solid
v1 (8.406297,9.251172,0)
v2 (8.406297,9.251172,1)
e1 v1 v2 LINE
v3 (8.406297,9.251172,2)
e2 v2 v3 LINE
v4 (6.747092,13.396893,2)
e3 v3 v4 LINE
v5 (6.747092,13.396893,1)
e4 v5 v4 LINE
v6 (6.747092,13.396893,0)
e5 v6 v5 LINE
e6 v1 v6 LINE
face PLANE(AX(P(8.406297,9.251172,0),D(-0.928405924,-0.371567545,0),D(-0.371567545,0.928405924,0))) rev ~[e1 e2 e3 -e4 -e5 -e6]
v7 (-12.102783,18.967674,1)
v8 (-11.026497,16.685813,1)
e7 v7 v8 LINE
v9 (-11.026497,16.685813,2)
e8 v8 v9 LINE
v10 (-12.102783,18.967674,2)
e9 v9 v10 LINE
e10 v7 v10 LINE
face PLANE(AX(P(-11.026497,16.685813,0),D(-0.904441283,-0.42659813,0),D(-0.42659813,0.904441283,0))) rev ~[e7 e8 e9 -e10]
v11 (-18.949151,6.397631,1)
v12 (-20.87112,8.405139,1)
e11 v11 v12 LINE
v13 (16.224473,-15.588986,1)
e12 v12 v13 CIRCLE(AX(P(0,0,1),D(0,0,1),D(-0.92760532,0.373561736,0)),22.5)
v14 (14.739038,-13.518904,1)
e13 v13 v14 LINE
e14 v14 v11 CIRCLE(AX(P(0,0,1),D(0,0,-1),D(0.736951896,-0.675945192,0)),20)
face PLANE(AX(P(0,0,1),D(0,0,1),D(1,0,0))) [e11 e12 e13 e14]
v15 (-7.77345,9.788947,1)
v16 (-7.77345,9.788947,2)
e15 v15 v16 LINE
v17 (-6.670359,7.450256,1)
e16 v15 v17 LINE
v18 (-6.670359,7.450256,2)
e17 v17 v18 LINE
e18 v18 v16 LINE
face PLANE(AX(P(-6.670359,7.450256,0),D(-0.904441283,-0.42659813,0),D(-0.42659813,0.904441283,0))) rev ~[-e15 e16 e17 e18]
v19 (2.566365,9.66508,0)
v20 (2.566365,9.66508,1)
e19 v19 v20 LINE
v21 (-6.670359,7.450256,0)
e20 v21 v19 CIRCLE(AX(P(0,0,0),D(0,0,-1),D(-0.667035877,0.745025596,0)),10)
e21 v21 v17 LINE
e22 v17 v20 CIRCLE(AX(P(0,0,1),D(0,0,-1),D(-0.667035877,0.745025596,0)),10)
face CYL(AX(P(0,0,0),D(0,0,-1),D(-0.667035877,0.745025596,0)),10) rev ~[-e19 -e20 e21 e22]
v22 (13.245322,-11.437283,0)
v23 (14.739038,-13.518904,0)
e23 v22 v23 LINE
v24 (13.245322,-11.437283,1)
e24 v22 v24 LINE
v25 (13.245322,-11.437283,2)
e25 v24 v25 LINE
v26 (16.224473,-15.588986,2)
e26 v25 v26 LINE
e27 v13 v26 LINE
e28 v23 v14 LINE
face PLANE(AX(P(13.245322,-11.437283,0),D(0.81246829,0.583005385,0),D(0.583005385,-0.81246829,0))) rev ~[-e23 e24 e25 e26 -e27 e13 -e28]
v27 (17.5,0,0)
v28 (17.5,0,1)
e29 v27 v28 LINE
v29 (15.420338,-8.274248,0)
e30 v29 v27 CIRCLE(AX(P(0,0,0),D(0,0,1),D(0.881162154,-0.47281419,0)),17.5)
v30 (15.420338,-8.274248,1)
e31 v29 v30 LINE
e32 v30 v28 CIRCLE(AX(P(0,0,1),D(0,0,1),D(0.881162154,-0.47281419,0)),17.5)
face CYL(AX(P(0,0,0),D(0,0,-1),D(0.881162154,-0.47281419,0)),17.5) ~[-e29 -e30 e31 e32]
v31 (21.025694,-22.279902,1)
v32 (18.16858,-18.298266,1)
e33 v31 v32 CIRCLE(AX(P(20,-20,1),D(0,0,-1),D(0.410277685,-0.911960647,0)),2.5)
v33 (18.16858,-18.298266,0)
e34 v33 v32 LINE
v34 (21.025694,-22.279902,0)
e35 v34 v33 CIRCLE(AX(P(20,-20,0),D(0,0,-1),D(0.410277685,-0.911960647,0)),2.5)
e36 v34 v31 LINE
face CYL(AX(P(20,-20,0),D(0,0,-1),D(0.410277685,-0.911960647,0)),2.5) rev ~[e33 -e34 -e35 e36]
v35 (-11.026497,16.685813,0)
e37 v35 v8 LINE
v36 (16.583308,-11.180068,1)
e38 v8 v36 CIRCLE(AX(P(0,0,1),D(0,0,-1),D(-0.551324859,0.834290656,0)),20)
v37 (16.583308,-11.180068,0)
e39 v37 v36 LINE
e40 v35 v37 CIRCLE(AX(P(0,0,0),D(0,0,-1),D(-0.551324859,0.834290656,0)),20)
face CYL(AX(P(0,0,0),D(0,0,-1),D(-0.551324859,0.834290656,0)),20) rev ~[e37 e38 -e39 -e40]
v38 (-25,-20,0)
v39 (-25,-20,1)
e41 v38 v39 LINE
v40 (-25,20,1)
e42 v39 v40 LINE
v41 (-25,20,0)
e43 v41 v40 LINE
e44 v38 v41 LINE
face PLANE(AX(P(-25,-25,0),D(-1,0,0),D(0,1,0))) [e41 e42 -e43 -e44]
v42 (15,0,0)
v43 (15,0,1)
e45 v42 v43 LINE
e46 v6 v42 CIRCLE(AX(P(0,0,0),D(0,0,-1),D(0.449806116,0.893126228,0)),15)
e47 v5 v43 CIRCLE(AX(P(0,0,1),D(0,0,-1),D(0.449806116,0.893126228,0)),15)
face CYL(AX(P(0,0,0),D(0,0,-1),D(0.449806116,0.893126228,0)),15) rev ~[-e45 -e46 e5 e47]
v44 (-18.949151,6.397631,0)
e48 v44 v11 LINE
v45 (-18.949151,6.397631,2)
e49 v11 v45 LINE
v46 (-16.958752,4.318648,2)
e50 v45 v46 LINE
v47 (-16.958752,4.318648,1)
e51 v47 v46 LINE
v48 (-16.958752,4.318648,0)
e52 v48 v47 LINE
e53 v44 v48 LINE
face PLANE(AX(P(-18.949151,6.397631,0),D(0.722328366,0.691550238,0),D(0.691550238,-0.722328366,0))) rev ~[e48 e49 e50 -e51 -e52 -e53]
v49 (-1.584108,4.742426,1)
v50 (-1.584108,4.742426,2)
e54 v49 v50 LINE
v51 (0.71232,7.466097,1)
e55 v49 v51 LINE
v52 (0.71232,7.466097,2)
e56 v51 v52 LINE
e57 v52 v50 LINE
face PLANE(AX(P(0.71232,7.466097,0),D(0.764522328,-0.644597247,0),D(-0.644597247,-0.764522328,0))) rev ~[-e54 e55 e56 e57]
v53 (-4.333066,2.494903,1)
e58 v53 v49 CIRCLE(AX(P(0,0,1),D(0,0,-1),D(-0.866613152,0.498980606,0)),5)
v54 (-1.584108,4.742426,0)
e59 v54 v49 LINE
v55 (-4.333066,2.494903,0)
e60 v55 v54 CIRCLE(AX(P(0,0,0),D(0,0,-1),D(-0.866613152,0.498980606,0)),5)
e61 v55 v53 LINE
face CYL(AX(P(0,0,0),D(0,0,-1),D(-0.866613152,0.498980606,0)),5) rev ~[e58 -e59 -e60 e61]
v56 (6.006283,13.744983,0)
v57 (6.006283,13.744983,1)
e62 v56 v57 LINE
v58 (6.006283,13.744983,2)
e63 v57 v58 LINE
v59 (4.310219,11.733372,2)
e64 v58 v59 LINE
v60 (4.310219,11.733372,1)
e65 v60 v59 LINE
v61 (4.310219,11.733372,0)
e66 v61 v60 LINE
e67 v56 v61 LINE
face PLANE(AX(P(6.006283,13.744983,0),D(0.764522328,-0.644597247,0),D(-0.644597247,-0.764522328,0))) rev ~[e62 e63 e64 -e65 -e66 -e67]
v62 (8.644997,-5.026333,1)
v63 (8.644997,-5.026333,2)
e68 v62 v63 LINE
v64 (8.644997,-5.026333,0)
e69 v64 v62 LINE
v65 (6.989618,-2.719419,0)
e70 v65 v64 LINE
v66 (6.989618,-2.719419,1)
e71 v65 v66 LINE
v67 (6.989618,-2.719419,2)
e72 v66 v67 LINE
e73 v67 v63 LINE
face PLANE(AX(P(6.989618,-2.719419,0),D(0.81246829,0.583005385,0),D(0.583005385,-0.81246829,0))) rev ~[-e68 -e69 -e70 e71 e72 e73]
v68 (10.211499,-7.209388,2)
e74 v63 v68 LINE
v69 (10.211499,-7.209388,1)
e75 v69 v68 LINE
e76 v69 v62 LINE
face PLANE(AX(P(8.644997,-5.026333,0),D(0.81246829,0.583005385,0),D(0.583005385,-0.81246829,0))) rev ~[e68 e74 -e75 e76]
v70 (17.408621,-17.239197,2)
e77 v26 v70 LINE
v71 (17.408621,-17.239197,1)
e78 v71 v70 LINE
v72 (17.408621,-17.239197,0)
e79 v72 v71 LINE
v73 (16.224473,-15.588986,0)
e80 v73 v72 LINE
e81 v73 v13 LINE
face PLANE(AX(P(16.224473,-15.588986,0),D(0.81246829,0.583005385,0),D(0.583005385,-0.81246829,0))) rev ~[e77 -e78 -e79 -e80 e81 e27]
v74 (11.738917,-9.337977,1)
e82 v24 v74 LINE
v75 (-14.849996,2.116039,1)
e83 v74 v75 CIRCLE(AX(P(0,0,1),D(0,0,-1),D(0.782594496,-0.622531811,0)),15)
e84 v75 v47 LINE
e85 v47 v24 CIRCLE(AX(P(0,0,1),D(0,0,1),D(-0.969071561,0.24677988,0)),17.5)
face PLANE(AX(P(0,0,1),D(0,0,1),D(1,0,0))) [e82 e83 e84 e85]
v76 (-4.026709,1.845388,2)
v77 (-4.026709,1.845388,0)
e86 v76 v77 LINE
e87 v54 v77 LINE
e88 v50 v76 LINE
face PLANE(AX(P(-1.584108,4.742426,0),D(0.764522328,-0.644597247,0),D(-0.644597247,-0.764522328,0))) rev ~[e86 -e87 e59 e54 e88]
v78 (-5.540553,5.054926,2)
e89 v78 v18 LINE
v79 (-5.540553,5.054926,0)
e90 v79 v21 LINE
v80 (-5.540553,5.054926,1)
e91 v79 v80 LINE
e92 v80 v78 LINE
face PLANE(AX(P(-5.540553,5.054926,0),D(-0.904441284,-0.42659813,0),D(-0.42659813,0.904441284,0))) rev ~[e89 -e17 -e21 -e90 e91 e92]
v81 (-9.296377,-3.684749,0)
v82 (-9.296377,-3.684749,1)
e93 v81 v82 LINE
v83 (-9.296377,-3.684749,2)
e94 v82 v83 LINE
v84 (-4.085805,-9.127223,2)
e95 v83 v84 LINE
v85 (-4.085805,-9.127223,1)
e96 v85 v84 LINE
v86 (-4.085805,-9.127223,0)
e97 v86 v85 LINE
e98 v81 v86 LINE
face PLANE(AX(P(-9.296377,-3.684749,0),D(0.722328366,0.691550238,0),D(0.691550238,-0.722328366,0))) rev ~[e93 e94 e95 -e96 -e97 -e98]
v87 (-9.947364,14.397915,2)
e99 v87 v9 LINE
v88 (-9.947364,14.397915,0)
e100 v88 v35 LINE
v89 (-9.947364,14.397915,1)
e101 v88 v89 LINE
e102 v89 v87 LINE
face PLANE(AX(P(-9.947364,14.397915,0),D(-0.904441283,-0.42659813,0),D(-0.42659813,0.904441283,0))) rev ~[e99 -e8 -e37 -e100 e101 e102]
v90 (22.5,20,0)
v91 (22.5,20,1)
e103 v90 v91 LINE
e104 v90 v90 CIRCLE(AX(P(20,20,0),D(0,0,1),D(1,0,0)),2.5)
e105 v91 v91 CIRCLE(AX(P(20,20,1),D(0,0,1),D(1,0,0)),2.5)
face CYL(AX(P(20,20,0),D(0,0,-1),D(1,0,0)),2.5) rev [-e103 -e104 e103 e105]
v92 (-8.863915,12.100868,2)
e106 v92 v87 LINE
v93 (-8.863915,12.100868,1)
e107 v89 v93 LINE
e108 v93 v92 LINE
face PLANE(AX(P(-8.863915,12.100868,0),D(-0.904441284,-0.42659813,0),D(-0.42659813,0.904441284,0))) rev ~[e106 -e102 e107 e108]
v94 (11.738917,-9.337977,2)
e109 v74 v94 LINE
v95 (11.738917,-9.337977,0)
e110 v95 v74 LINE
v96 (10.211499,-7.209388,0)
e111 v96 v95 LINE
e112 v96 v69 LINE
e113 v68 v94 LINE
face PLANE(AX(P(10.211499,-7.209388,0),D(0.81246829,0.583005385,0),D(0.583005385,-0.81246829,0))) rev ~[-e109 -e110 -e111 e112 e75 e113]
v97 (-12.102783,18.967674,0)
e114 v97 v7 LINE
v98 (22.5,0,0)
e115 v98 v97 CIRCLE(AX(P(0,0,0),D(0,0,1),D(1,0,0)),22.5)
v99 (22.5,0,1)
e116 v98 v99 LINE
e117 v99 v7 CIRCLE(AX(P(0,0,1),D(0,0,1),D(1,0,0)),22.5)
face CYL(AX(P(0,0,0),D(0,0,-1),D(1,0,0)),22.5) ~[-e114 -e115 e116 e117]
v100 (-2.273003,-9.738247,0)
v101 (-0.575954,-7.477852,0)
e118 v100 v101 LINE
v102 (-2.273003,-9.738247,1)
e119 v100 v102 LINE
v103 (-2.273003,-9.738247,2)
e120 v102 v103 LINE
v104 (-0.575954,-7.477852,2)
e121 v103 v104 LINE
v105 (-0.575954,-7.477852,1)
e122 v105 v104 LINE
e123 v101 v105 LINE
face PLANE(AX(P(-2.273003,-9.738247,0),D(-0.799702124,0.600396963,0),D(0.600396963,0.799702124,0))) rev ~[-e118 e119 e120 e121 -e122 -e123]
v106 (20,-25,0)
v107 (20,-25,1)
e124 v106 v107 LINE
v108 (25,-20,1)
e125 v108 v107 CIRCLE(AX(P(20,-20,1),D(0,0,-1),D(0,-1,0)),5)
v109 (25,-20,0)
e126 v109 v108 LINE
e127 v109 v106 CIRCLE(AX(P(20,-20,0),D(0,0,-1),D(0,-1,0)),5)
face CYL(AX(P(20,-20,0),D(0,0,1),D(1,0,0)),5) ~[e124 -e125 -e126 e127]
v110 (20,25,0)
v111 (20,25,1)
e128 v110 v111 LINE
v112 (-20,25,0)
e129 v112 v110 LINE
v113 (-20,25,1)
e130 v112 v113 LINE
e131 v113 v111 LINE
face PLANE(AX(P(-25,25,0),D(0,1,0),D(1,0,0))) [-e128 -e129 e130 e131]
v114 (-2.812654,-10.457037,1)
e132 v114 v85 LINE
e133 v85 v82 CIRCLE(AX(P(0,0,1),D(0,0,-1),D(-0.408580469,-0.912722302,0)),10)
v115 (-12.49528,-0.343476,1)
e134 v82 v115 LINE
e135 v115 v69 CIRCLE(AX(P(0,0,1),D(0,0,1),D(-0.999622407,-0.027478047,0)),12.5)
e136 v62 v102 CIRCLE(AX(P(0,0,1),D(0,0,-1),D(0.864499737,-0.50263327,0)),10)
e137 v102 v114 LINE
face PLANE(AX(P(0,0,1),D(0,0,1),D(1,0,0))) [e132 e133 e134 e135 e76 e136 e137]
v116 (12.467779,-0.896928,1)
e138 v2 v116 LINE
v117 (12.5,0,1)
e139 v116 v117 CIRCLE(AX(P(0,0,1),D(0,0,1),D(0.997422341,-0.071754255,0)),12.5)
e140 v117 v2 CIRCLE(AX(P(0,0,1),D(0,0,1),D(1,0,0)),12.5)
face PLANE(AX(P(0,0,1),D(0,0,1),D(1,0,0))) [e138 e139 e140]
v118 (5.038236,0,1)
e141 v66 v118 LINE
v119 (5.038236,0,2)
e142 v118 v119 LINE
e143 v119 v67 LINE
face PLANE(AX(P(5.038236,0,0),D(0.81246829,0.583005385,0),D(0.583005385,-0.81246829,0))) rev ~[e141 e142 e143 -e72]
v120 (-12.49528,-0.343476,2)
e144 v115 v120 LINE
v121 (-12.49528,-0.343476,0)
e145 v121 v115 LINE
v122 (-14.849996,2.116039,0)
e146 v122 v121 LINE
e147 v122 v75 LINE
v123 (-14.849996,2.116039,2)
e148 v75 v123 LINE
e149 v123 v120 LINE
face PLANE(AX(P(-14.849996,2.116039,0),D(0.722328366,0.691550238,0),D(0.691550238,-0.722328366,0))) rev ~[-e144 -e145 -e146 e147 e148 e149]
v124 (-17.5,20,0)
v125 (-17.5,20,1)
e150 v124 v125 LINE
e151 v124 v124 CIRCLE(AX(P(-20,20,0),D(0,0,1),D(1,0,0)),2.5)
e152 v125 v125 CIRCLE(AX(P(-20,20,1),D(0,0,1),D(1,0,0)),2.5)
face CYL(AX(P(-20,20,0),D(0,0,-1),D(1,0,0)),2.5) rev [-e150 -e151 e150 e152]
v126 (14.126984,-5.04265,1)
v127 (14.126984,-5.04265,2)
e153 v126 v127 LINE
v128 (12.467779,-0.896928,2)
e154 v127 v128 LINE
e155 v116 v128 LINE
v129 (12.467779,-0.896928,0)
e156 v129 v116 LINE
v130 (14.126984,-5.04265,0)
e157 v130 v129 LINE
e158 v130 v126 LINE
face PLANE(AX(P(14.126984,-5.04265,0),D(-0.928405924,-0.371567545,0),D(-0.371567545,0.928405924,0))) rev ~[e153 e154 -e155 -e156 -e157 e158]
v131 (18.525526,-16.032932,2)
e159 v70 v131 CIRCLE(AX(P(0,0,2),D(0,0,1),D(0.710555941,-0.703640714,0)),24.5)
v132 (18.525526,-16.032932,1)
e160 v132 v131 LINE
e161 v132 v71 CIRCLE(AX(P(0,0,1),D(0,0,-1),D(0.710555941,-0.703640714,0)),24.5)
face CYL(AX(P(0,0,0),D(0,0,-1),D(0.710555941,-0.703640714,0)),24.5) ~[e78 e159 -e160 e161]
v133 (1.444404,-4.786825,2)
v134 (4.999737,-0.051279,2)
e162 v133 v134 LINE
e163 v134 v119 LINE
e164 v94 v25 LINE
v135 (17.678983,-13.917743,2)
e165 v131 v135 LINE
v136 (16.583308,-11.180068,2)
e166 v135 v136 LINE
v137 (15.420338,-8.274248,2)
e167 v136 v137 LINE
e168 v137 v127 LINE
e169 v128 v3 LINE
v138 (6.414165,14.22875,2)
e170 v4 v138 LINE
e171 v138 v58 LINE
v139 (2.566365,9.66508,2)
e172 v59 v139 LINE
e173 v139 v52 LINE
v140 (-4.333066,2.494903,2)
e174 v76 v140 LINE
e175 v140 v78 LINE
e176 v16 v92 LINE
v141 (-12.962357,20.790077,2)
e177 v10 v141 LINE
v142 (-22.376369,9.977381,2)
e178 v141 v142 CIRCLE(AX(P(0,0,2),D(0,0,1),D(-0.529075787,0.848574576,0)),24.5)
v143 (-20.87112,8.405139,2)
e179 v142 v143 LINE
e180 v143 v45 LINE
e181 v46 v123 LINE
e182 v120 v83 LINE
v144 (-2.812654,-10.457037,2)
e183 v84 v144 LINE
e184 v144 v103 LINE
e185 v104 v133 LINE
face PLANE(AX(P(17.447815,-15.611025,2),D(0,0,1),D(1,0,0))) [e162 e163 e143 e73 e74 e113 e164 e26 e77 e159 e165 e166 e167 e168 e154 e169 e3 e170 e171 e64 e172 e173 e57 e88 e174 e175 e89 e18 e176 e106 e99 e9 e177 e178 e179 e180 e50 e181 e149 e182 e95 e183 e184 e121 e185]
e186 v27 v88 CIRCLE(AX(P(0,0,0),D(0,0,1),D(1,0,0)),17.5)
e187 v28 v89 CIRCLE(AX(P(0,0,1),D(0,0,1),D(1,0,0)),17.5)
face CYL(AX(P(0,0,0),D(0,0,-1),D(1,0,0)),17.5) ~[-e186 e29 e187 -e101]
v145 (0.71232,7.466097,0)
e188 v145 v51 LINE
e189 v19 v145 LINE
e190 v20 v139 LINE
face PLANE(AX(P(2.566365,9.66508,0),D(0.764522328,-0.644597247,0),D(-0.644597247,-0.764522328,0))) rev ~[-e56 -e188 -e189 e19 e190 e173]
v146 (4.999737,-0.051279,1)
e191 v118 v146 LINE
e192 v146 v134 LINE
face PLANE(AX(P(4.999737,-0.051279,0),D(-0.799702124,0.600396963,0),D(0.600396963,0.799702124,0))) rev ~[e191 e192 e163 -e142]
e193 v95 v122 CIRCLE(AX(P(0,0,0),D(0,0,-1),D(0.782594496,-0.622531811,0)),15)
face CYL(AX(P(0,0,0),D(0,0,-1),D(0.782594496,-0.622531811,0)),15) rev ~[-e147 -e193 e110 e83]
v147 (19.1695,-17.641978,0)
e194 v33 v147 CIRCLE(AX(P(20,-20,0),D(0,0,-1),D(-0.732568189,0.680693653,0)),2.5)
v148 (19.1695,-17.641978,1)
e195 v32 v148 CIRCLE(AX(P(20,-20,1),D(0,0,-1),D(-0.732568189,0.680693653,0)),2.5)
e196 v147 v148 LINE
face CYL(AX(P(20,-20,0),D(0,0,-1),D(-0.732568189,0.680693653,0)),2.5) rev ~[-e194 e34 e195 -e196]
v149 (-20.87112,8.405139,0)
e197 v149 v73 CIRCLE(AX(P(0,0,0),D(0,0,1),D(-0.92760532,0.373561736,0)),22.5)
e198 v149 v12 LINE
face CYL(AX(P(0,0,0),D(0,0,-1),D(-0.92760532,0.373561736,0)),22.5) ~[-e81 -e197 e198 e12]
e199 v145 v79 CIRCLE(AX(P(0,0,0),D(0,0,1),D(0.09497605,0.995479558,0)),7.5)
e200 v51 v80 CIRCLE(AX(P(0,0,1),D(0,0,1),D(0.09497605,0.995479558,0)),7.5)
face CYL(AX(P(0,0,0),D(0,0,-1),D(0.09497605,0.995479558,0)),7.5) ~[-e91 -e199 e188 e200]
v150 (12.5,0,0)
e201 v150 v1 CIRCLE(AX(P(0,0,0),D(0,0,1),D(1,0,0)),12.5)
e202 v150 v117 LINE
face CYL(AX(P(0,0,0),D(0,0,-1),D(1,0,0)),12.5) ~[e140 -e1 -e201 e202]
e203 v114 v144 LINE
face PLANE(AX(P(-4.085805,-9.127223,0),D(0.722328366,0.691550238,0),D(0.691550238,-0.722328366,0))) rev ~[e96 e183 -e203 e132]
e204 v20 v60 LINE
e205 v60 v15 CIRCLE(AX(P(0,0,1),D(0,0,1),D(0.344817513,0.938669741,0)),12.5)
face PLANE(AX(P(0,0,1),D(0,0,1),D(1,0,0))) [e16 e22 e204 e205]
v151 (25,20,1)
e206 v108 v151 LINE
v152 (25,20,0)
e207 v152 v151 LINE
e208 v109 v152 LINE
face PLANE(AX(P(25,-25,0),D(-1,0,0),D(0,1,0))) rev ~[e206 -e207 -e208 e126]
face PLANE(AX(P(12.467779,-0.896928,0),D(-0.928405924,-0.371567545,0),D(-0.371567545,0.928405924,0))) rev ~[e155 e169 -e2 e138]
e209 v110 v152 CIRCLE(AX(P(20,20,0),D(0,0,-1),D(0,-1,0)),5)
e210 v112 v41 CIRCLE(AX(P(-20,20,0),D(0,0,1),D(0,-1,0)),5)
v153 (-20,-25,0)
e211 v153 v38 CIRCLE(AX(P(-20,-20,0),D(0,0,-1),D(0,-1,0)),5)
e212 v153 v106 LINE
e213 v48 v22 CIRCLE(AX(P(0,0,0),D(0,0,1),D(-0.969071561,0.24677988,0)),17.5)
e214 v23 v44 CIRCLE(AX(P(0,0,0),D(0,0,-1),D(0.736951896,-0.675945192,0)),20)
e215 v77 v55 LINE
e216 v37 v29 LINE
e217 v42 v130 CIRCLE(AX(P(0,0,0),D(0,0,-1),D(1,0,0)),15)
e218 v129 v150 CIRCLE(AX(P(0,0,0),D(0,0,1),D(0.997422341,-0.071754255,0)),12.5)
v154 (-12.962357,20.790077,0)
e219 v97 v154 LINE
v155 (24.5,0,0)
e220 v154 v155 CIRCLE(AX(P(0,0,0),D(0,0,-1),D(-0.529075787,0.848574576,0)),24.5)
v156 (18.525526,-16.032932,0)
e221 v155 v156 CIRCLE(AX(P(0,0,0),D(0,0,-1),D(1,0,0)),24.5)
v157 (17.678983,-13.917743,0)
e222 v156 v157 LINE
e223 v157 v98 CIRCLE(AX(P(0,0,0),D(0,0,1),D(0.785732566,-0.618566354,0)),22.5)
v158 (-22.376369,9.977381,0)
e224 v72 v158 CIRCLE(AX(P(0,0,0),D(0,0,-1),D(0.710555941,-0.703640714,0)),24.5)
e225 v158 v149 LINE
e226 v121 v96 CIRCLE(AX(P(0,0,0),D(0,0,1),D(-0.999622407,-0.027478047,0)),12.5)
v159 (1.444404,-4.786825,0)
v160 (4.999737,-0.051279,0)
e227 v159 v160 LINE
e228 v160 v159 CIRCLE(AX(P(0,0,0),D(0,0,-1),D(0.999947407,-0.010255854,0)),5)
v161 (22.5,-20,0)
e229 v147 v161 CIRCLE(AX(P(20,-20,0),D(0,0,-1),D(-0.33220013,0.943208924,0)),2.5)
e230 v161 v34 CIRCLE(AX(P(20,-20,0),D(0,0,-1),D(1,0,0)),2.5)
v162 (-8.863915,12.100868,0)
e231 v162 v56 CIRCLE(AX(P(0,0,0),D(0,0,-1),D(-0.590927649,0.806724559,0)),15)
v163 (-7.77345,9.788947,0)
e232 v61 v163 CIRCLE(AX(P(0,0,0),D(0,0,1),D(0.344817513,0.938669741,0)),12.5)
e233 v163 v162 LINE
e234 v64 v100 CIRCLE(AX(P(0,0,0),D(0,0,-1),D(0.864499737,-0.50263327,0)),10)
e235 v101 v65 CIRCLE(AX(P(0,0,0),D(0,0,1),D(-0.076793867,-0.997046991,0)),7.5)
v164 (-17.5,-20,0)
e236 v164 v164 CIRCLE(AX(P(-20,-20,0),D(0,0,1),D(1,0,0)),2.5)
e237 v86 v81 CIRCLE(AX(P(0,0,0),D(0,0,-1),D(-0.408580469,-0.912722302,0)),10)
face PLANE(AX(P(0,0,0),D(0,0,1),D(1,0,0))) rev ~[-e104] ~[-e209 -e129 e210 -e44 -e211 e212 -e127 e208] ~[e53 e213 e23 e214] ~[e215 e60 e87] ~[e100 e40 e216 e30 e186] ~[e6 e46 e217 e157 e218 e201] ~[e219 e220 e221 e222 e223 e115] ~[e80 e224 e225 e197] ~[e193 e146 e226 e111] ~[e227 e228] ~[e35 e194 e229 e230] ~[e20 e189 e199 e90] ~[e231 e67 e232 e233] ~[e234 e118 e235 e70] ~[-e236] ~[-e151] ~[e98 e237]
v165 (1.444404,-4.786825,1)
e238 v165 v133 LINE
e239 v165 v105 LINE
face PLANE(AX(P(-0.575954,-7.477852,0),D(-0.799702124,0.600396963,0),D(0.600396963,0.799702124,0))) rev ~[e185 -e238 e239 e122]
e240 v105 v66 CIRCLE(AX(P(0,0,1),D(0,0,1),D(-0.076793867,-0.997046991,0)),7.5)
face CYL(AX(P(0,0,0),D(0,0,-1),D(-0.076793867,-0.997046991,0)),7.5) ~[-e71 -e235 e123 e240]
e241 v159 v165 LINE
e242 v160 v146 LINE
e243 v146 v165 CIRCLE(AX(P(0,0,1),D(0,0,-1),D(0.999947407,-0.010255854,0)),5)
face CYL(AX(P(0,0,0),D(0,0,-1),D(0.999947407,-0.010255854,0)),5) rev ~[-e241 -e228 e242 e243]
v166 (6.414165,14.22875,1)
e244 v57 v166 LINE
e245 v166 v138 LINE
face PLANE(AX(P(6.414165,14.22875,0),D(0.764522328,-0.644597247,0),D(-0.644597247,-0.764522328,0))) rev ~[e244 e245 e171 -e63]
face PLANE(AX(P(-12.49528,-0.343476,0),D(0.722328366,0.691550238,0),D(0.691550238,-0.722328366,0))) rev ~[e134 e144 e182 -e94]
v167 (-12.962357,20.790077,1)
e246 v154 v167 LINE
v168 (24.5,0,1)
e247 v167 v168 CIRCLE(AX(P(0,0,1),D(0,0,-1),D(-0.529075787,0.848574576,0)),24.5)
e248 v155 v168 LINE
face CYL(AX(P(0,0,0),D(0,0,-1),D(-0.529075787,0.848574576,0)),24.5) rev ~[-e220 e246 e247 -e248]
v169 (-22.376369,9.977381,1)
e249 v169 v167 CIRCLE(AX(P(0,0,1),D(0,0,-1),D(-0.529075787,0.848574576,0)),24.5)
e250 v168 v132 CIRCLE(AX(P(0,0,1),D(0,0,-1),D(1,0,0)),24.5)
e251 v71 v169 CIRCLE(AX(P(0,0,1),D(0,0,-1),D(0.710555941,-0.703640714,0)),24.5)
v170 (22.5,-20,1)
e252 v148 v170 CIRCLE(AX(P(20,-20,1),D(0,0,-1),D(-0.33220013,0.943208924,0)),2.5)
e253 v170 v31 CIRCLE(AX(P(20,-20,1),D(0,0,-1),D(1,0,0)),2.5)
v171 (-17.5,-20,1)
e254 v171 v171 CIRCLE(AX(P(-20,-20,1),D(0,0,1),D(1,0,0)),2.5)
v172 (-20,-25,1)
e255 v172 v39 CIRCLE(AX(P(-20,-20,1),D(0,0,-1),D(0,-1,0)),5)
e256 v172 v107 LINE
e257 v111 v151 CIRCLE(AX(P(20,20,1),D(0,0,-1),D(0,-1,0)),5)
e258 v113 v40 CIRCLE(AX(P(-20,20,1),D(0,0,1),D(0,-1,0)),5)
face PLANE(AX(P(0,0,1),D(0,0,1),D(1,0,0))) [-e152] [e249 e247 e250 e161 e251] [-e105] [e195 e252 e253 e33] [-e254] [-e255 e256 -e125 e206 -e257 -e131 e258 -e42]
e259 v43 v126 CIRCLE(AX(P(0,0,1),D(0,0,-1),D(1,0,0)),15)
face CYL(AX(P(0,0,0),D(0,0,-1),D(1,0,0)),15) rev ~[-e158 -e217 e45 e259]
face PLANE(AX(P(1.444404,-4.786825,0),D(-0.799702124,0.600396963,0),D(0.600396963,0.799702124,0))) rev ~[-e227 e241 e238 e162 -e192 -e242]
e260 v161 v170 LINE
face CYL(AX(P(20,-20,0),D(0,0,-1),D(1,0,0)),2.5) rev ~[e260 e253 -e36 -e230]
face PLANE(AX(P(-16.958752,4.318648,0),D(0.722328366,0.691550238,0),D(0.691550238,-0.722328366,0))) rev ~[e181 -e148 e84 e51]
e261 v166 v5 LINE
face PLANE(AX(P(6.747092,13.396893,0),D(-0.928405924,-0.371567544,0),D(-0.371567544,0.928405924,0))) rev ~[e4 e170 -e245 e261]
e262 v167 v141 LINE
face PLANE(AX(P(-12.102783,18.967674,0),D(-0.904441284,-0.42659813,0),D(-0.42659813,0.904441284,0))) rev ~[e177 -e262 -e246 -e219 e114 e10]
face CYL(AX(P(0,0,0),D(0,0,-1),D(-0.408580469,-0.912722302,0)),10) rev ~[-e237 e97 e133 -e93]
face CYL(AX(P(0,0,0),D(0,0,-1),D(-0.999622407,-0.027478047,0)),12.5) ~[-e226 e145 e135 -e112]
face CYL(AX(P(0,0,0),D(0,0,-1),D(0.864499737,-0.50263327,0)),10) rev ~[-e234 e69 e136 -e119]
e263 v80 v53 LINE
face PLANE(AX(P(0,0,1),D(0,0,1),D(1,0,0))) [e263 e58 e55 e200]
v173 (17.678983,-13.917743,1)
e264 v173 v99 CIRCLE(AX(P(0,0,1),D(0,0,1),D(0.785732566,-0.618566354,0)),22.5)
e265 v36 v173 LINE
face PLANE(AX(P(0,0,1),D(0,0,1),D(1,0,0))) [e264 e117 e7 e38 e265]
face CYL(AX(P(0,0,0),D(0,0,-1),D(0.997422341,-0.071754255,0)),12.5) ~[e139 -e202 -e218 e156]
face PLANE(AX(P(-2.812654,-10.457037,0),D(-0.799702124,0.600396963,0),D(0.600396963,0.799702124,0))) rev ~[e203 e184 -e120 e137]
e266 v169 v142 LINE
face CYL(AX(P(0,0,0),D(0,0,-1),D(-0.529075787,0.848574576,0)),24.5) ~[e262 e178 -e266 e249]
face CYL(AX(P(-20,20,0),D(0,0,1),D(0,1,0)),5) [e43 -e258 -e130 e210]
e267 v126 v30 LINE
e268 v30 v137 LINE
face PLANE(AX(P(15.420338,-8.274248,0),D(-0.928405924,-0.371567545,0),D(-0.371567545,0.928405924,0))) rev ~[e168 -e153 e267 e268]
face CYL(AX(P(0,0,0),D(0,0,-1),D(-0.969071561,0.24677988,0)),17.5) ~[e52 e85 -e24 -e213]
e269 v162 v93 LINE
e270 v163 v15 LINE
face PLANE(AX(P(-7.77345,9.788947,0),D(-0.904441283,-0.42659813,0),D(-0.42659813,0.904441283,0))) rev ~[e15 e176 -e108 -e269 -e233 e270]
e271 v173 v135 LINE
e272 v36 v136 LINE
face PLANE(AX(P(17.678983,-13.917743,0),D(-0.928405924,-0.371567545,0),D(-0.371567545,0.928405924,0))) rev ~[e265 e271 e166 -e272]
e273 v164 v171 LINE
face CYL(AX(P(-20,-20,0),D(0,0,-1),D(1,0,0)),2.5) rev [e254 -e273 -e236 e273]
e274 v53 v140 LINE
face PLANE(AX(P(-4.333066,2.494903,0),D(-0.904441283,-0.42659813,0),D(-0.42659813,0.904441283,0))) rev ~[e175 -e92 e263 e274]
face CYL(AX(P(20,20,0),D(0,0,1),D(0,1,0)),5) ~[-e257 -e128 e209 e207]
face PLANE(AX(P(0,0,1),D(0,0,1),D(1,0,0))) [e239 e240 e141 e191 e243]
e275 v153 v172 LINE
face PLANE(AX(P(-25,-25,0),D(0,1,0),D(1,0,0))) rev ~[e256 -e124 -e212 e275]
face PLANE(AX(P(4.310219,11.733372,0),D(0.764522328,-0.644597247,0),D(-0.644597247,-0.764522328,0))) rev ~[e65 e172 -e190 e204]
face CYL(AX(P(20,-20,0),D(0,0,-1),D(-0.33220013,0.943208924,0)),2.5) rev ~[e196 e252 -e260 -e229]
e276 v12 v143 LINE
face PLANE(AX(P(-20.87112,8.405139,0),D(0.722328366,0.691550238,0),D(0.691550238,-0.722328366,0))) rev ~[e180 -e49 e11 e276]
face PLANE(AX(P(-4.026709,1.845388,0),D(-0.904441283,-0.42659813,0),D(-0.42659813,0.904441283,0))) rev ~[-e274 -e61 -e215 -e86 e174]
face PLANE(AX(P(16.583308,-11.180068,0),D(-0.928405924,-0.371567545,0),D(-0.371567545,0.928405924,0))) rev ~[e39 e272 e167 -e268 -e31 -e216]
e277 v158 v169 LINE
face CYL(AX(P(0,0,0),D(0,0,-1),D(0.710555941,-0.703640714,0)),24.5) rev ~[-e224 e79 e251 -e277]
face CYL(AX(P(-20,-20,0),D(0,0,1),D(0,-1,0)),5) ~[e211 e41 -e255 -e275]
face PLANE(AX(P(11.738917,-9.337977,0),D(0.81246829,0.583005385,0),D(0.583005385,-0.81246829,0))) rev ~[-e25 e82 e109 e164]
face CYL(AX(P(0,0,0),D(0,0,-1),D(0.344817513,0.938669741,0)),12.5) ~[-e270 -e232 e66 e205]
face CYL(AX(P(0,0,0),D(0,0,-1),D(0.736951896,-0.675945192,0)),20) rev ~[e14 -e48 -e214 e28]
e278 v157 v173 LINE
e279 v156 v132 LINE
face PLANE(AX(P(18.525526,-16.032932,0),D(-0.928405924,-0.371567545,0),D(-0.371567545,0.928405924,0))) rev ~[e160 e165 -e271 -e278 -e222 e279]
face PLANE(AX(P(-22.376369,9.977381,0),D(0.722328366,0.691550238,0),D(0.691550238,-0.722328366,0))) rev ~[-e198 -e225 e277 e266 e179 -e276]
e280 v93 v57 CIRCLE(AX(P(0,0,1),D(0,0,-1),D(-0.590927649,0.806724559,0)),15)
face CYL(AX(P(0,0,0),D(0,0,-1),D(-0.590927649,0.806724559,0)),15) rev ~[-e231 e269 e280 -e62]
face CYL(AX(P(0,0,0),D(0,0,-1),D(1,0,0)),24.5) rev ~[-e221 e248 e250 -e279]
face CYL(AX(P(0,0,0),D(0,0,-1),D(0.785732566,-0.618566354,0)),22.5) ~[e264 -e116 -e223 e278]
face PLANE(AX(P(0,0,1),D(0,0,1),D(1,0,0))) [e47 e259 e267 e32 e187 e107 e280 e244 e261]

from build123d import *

# Parameters (mm, degrees)
F0_W     = 50
F0_H     = 50
F0_R     = 3.5
F0_R_2   = 2.5
F1_DEPTH = 1
F2_DEPTH = 2
F3_R     = 5


with BuildPart() as f1:
    # F0 (on Top) → F1 (new body)
    with BuildSketch(Plane.XY):
        Rectangle(F0_W, F0_H)
        with Locations((-20, -20)):
            Circle(F0_R, mode=Mode.SUBTRACT)
        with Locations((-20, 20)):
            Circle(F0_R, mode=Mode.SUBTRACT)
        with BuildLine():
            ThreePointArc((23.5, -20), (18.6270110009, -23.2194566635), (17.5771993095, -17.4741265245))
            Line((17.5771993095, -17.4741265245), (17.4086205584, -17.2391974945))
            ThreePointArc((17.4086205584, -17.2391974945), (-13.8331182922, -20.2211482936), (-22.3763686864, 9.9773806388))
            ThreePointArc((-22.3763686864, 9.9773806388), (-18.4779593257, 16.0877288378), (-12.9623567896, 20.7900771153))
            ThreePointArc((-12.9623567896, 20.7900771153), (11.8884872598, 21.422275105), (24.5, 0))
            ThreePointArc((24.5, 0), (22.9578459258, -8.5549582375), (18.5255256779, -16.0329316832))
            Line((18.5255256779, -16.0329316832), (18.7976972629, -16.7129849212))
            ThreePointArc((18.7976972629, -16.7129849212), (22.0052356994, -17.1313714444), (23.5, -20))
        make_face(mode=Mode.SUBTRACT)
        with Locations((20, 20)):
            Circle(F0_R, mode=Mode.SUBTRACT)
        with BuildLine():
            ThreePointArc((-12.9623567896, 20.7900771153), (-18.4779593257, 16.0877288378), (-22.3763686864, 9.9773806388))
            Line((-22.3763686864, 9.9773806388), (-20.8711196987, 8.4051390543))
            ThreePointArc((-20.8711196987, 8.4051390543), (-17.3121734711, 14.3714525956), (-12.1027830938, 18.9676735892))
            Line((-12.1027830938, 18.9676735892), (-12.9623567896, 20.7900771153))
        make_face()
        with BuildLine():
            ThreePointArc((-12.1027830938, 18.9676735892), (-17.3121734711, 14.3714525956), (-20.8711196987, 8.4051390543))
            Line((-20.8711196987, 8.4051390543), (-18.9491508236, 6.397631051))
            ThreePointArc((-18.9491508236, 6.397631051), (-15.8460260332, 12.2026004997), (-11.0264971881, 16.6858131285))
            Line((-11.0264971881, 16.6858131285), (-12.1027830938, 18.9676735892))
        make_face()
        with BuildLine():
            ThreePointArc((-11.0264971881, 16.6858131285), (-15.8460260332, 12.2026004997), (-18.9491508236, 6.397631051))
            Line((-18.9491508236, 6.397631051), (-16.9587523233, 4.3186478944))
            ThreePointArc((-16.9587523233, 4.3186478944), (-14.3660250029, 9.9933640791), (-9.9473635328, 14.3979150833))
            Line((-9.9473635328, 14.3979150833), (-11.0264971881, 16.6858131285))
        make_face()
        with BuildLine():
            ThreePointArc((-9.9473635328, 14.3979150833), (-14.3660250029, 9.9933640791), (-16.9587523233, 4.3186478944))
            Line((-16.9587523233, 4.3186478944), (-14.849995899, 2.1160391771))
            ThreePointArc((-14.849995899, 2.1160391771), (-12.8651308932, 7.7128728176), (-8.8639147293, 12.1008683851))
            Line((-8.8639147293, 12.1008683851), (-9.9473635328, 14.3979150833))
        make_face()
        with BuildLine():
            ThreePointArc((-8.8639147293, 12.1008683851), (-12.8651308932, 7.7128728176), (-14.849995899, 2.1160391771))
            Line((-14.849995899, 2.1160391771), (-12.4952800896, -0.3434755913))
            ThreePointArc((-12.4952800896, -0.3434755913), (-11.3301301239, 5.2799764559), (-7.7734498383, 9.7889467059))
            Line((-7.7734498383, 9.7889467059), (-8.8639147293, 12.1008683851))
        make_face()
        with BuildLine():
            ThreePointArc((-7.7734498383, 9.7889467059), (-11.3301301239, 5.2799764559), (-12.4952800896, -0.3434755913))
            Line((-12.4952800896, -0.3434755913), (-9.2963769315, -3.6847491023))
            ThreePointArc((-9.2963769315, -3.6847491023), (-9.7329978262, 2.2953765084), (-6.670358772, 7.4502559589))
            Line((-6.670358772, 7.4502559589), (-7.7734498383, 9.7889467059))
        make_face()
        with BuildLine():
            ThreePointArc((-6.670358772, 7.4502559589), (-9.7329978262, 2.2953765084), (-9.2963769315, -3.6847491023))
            Line((-9.2963769315, -3.6847491023), (-4.0858046945, -9.1272230168))
            ThreePointArc((-4.0858046945, -9.1272230168), (-3.1940488203, -9.476183416), (-2.2730034578, -9.7382470333))
            Line((-2.2730034578, -9.7382470333), (-0.575954004, -7.4778524314))
            ThreePointArc((-0.575954004, -7.4778524314), (-6.9728435303, -2.7621464664), (-5.5405526463, 5.0549259514))
            Line((-5.5405526463, 5.0549259514), (-6.670358772, 7.4502559589))
        make_face()
        with BuildLine():
            ThreePointArc((-5.5405526463, 5.0549259514), (-6.9728435303, -2.7621464664), (-0.575954004, -7.4778524314))
            Line((-0.575954004, -7.4778524314), (1.4444038201, -4.7868254203))
            ThreePointArc((1.4444038201, -4.7868254203), (-3.9168845093, -3.1077348247), (-4.3330657581, 2.4949030315))
            Line((-4.3330657581, 2.4949030315), (-5.5405526463, 5.0549259514))
        make_face()
        with BuildLine():
            Line((1.4444038201, -4.7868254203), (4.9997370367, -0.0512792683))
            ThreePointArc((4.9997370367, -0.0512792683), (4.9999342588, -0.0256399712), (5, 0))
            ThreePointArc((5, 0), (2.9222816207, 4.0571258458), (-1.5841080516, 4.7424257169))
            Line((-1.5841080516, 4.7424257169), (-4.0267086588, 1.8453877419))
            Line((-4.0267086588, 1.8453877419), (-4.3330657581, 2.4949030315))
            ThreePointArc((-4.3330657581, 2.4949030315), (-3.9168845093, -3.1077348247), (1.4444038201, -4.7868254203))
        make_face()
        with BuildLine():
            Line((5.0382362679, 0), (6.9896180853, -2.7194188756))
            ThreePointArc((6.9896180853, -2.7194188756), (7.3713002801, -1.3834493775), (7.5, 0))
            ThreePointArc((7.5, 0), (5.5494325298, 5.0451757747), (0.7123203741, 7.4660966833))
            Line((0.7123203741, 7.4660966833), (-1.5841080516, 4.7424257169))
            ThreePointArc((-1.5841080516, 4.7424257169), (2.9222816207, 4.0571258458), (5, 0))
            ThreePointArc((5, 0), (4.9999342588, -0.0256399712), (4.9997370367, -0.0512792683))
            Line((4.9997370367, -0.0512792683), (5.0382362679, 0))
        make_face()
        with BuildLine():
            Line((6.9896180853, -2.7194188756), (8.644997375, -5.0263326976))
            ThreePointArc((8.644997375, -5.0263326976), (9.6553087405, -2.6028855382), (10, 0))
            ThreePointArc((10, 0), (7.9266528427, 6.0965707337), (2.5663650578, 9.6650799474))
            Line((2.5663650578, 9.6650799474), (0.7123203741, 7.4660966833))
            ThreePointArc((0.7123203741, 7.4660966833), (5.5494325298, 5.0451757747), (7.5, 0))
            ThreePointArc((7.5, 0), (7.3713002801, -1.3834493775), (6.9896180853, -2.7194188756))
        make_face()
        with BuildLine():
            Line((8.644997375, -5.0263326976), (10.2114993781, -7.2093883548))
            ThreePointArc((10.2114993781, -7.2093883548), (11.7706927711, -4.2072308814), (12.4677792663, -0.8969281838))
            Line((12.4677792663, -0.8969281838), (8.4062966321, 9.2511716519))
            ThreePointArc((8.4062966321, 9.2511716519), (6.4782537194, 10.6902866541), (4.3102189136, 11.7333717625))
            Line((4.3102189136, 11.7333717625), (2.5663650578, 9.6650799474))
            ThreePointArc((2.5663650578, 9.6650799474), (7.9266528427, 6.0965707337), (10, 0))
            ThreePointArc((10, 0), (9.6553087405, -2.6028855382), (8.644997375, -5.0263326976))
        make_face()
        with BuildLine():
            Line((10.2114993781, -7.2093883548), (11.7389174346, -9.3379771612))
            ThreePointArc((11.7389174346, -9.3379771612), (13.1100600813, -7.2887807392), (14.1269841628, -5.0426499446))
            Line((14.1269841628, -5.0426499446), (12.4677792663, -0.8969281838))
            ThreePointArc((12.4677792663, -0.8969281838), (11.7706927711, -4.2072308814), (10.2114993781, -7.2093883548))
        make_face()
        with BuildLine():
            Line((11.7389174346, -9.3379771612), (13.2453224947, -11.4372825448))
            ThreePointArc((13.2453224947, -11.4372825448), (14.4198202083, -9.9155829461), (15.4203376918, -8.2742483328))
            Line((15.4203376918, -8.2742483328), (14.1269841628, -5.0426499446))
            ThreePointArc((14.1269841628, -5.0426499446), (13.1100600813, -7.2887807392), (11.7389174346, -9.3379771612))
        make_face()
        with BuildLine():
            Line((13.2453224947, -11.4372825448), (14.7390379273, -13.5189038379))
            ThreePointArc((14.7390379273, -13.5189038379), (15.704772219, -12.3838656949), (16.583307557, -11.1800675522))
            Line((16.583307557, -11.1800675522), (15.4203376918, -8.2742483328))
            ThreePointArc((15.4203376918, -8.2742483328), (14.4198202083, -9.9155829461), (13.2453224947, -11.4372825448))
        make_face()
        with BuildLine():
            Line((14.7390379273, -13.5189038379), (16.224472995, -15.5889857283))
            ThreePointArc((16.224472995, -15.5889857283), (16.9723110034, -14.7712781845), (17.6789827405, -13.9177429657))
            Line((17.6789827405, -13.9177429657), (16.583307557, -11.1800675522))
            ThreePointArc((16.583307557, -11.1800675522), (15.704772219, -12.3838656949), (14.7390379273, -13.5189038379))
        make_face()
        with BuildLine():
            Line((16.224472995, -15.5889857283), (17.4086205584, -17.2391974945))
            ThreePointArc((17.4086205584, -17.2391974945), (17.9771934888, -16.6454352381), (18.5255256779, -16.0329316832))
            Line((18.5255256779, -16.0329316832), (17.6789827405, -13.9177429657))
            ThreePointArc((17.6789827405, -13.9177429657), (16.9723110034, -14.7712781845), (16.224472995, -15.5889857283))
        make_face()
        with BuildLine():
            Line((17.4086205584, -17.2391974945), (17.5771993095, -17.4741265245))
            ThreePointArc((17.5771993095, -17.4741265245), (18.1479260678, -17.0301814618), (18.7976972629, -16.7129849212))
            Line((18.7976972629, -16.7129849212), (18.5255256779, -16.0329316832))
            ThreePointArc((18.5255256779, -16.0329316832), (17.9771934888, -16.6454352381), (17.4086205584, -17.2391974945))
        make_face()
        with BuildLine():
            ThreePointArc((22.5, -20), (22.0993136417, -21.3575279863), (21.0256942131, -22.2799016166))
            ThreePointArc((21.0256942131, -22.2799016166), (17.9688292761, -21.4575134615), (18.1685795283, -18.298265868))
            Line((18.1685795283, -18.298265868), (17.5771993095, -17.4741265245))
            ThreePointArc((17.5771993095, -17.4741265245), (18.6270110009, -23.2194566635), (23.5, -20))
            ThreePointArc((23.5, -20), (22.0052356994, -17.1313714444), (18.7976972629, -16.7129849212))
            Line((18.7976972629, -16.7129849212), (19.1694996754, -17.6419776908))
            ThreePointArc((19.1694996754, -17.6419776908), (21.4446018809, -17.9596261603), (22.5, -20))
        make_face()
        with BuildLine():
            Line((17.5771993095, -17.4741265245), (18.1685795283, -18.298265868))
            ThreePointArc((18.1685795283, -18.298265868), (18.6291848687, -17.909338412), (19.1694996754, -17.6419776908))
            Line((19.1694996754, -17.6419776908), (18.7976972629, -16.7129849212))
            ThreePointArc((18.7976972629, -16.7129849212), (18.1479260678, -17.0301814618), (17.5771993095, -17.4741265245))
        make_face()
        with Locations((-20, -20)):
            Circle(F0_R)
        with Locations((-20, -20)):
            Circle(F0_R_2, mode=Mode.SUBTRACT)
        with Locations((20, 20)):
            Circle(F0_R)
        with Locations((20, 20)):
            Circle(F0_R_2, mode=Mode.SUBTRACT)
        with Locations((-20, 20)):
            Circle(F0_R)
        with Locations((-20, 20)):
            Circle(F0_R_2, mode=Mode.SUBTRACT)
        with BuildLine():
            ThreePointArc((4.3102189136, 11.7333717625), (6.4782537194, 10.6902866541), (8.4062966321, 9.2511716519))
            Line((8.4062966321, 9.2511716519), (6.7470917355, 13.3968934127))
            ThreePointArc((6.7470917355, 13.3968934127), (6.3790622823, 13.5759922068), (6.0062833463, 13.744983098))
            Line((6.0062833463, 13.744983098), (4.3102189136, 11.7333717625))
        make_face()
        with BuildLine():
            ThreePointArc((6.0062833463, 13.744983098), (6.3790622823, 13.5759922068), (6.7470917355, 13.3968934127))
            Line((6.7470917355, 13.3968934127), (6.4141652547, 14.2287500203))
            Line((6.4141652547, 14.2287500203), (6.0062833463, 13.744983098))
        make_face()
        with BuildLine():
            Line((-2.8126535472, -10.4570370167), (-2.2730034578, -9.7382470333))
            ThreePointArc((-2.2730034578, -9.7382470333), (-3.1940488203, -9.476183416), (-4.0858046945, -9.1272230168))
            Line((-4.0858046945, -9.1272230168), (-2.8126535472, -10.4570370167))
        make_face()
        with BuildLine():
            ThreePointArc((-20.8711196987, 8.4051390543), (-12.2199565227, -18.8923969518), (16.224472995, -15.5889857283))
            Line((16.224472995, -15.5889857283), (14.7390379273, -13.5189038379))
            ThreePointArc((14.7390379273, -13.5189038379), (-10.1783276202, -17.2163192017), (-18.9491508236, 6.397631051))
            Line((-18.9491508236, 6.397631051), (-20.8711196987, 8.4051390543))
        make_face()
        with BuildLine():
            ThreePointArc((-16.9587523233, 4.3186478944), (-8.0938078971, -15.5158072212), (13.2453224947, -11.4372825448))
            Line((13.2453224947, -11.4372825448), (11.7389174346, -9.3379771612))
            ThreePointArc((11.7389174346, -9.3379771612), (-5.9345029171, -13.7761270003), (-14.849995899, 2.1160391771))
            Line((-14.849995899, 2.1160391771), (-16.9587523233, 4.3186478944))
        make_face()
        with BuildLine():
            ThreePointArc((-12.4952800896, -0.3434755913), (-3.6178865521, -11.964986289), (10.2114993781, -7.2093883548))
            Line((10.2114993781, -7.2093883548), (8.644997375, -5.0263326976))
            ThreePointArc((8.644997375, -5.0263326976), (3.9624627187, -9.1814426537), (-2.2730034578, -9.7382470333))
            Line((-2.2730034578, -9.7382470333), (-2.8126535472, -10.4570370167))
            Line((-2.8126535472, -10.4570370167), (-4.0858046945, -9.1272230168))
            ThreePointArc((-4.0858046945, -9.1272230168), (-7.2232836609, -6.915502379), (-9.2963769315, -3.6847491023))
            Line((-9.2963769315, -3.6847491023), (-12.4952800896, -0.3434755913))
        make_face()
        with BuildLine():
            ThreePointArc((-0.575954004, -7.4778524314), (3.993049488, -6.3486656698), (6.9896180853, -2.7194188756))
            Line((6.9896180853, -2.7194188756), (5.0382362679, 0))
            Line((5.0382362679, 0), (4.9997370367, -0.0512792683))
            ThreePointArc((4.9997370367, -0.0512792683), (3.9985106209, -3.0019848126), (1.4444038201, -4.7868254203))
            Line((1.4444038201, -4.7868254203), (-0.575954004, -7.4778524314))
        make_face()
        with BuildLine():
            Line((16.583307557, -11.1800675522), (17.6789827405, -13.9177429657))
            ThreePointArc((17.6789827405, -13.9177429657), (21.2606104294, -7.3645396441), (22.5, 0))
            ThreePointArc((22.5, 0), (10.8152064333, 19.7302131211), (-12.1027830938, 18.9676735892))
            Line((-12.1027830938, 18.9676735892), (-11.0264971881, 16.6858131285))
            ThreePointArc((-11.0264971881, 16.6858131285), (9.4728574421, 17.6143399502), (20, 0))
            ThreePointArc((20, 0), (19.1267633323, -5.8452480213), (16.583307557, -11.1800675522))
        make_face()
        with BuildLine():
            Line((14.1269841628, -5.0426499446), (15.4203376918, -8.2742483328))
            ThreePointArc((15.4203376918, -8.2742483328), (16.9721228726, -4.2657994792), (17.5, 0))
            ThreePointArc((17.5, 0), (8.1293031121, 15.497239461), (-9.9473635328, 14.3979150833))
            Line((-9.9473635328, 14.3979150833), (-8.8639147293, 12.1008683851))
            ThreePointArc((-8.8639147293, 12.1008683851), (-1.6484212379, 14.9091484473), (6.0062833463, 13.744983098))
            Line((6.0062833463, 13.744983098), (6.4141652547, 14.2287500203))
            Line((6.4141652547, 14.2287500203), (6.7470917355, 13.3968934127))
            ThreePointArc((6.7470917355, 13.3968934127), (12.77118585, 7.8674526998), (15, 0))
            ThreePointArc((15, 0), (14.7801346821, -2.5588315261), (14.1269841628, -5.0426499446))
        make_face()
        with BuildLine():
            Line((8.4062966321, 9.2511716519), (12.4677792663, -0.8969281838))
            ThreePointArc((12.4677792663, -0.8969281838), (12.4919422195, -0.4487533684), (12.5, 0))
            ThreePointArc((12.5, 0), (11.4308509723, 5.0582255831), (8.4062966321, 9.2511716519))
        make_face()
        with BuildLine():
            ThreePointArc((4.3102189136, 11.7333717625), (-1.9858724304, 12.3412442926), (-7.7734498383, 9.7889467059))
            Line((-7.7734498383, 9.7889467059), (-6.670358772, 7.4502559589))
            ThreePointArc((-6.670358772, 7.4502559589), (-2.3317487915, 9.7243481824), (2.5663650578, 9.6650799474))
            Line((2.5663650578, 9.6650799474), (4.3102189136, 11.7333717625))
        make_face()
        with BuildLine():
            ThreePointArc((0.7123203741, 7.4660966833), (-2.698405602, 6.9977572984), (-5.5405526463, 5.0549259514))
            Line((-5.5405526463, 5.0549259514), (-4.3330657581, 2.4949030315))
            ThreePointArc((-4.3330657581, 2.4949030315), (-3.1648184828, 3.8709073834), (-1.5841080516, 4.7424257169))
            Line((-1.5841080516, 4.7424257169), (0.7123203741, 7.4660966833))
        make_face()
    extrude(amount=F1_DEPTH)

    # F0 (on Top) → F2 (join)
    with BuildSketch(Plane.XY):
        with BuildLine():
            Line((16.224472995, -15.5889857283), (17.4086205584, -17.2391974945))
            ThreePointArc((17.4086205584, -17.2391974945), (17.9771934888, -16.6454352381), (18.5255256779, -16.0329316832))
            Line((18.5255256779, -16.0329316832), (17.6789827405, -13.9177429657))
            ThreePointArc((17.6789827405, -13.9177429657), (16.9723110034, -14.7712781845), (16.224472995, -15.5889857283))
        make_face()
        with BuildLine():
            Line((14.7390379273, -13.5189038379), (16.224472995, -15.5889857283))
            ThreePointArc((16.224472995, -15.5889857283), (16.9723110034, -14.7712781845), (17.6789827405, -13.9177429657))
            Line((17.6789827405, -13.9177429657), (16.583307557, -11.1800675522))
            ThreePointArc((16.583307557, -11.1800675522), (15.704772219, -12.3838656949), (14.7390379273, -13.5189038379))
        make_face()
        with BuildLine():
            Line((13.2453224947, -11.4372825448), (14.7390379273, -13.5189038379))
            ThreePointArc((14.7390379273, -13.5189038379), (15.704772219, -12.3838656949), (16.583307557, -11.1800675522))
            Line((16.583307557, -11.1800675522), (15.4203376918, -8.2742483328))
            ThreePointArc((15.4203376918, -8.2742483328), (14.4198202083, -9.9155829461), (13.2453224947, -11.4372825448))
        make_face()
        with BuildLine():
            Line((11.7389174346, -9.3379771612), (13.2453224947, -11.4372825448))
            ThreePointArc((13.2453224947, -11.4372825448), (14.4198202083, -9.9155829461), (15.4203376918, -8.2742483328))
            Line((15.4203376918, -8.2742483328), (14.1269841628, -5.0426499446))
            ThreePointArc((14.1269841628, -5.0426499446), (13.1100600813, -7.2887807392), (11.7389174346, -9.3379771612))
        make_face()
        with BuildLine():
            Line((10.2114993781, -7.2093883548), (11.7389174346, -9.3379771612))
            ThreePointArc((11.7389174346, -9.3379771612), (13.1100600813, -7.2887807392), (14.1269841628, -5.0426499446))
            Line((14.1269841628, -5.0426499446), (12.4677792663, -0.8969281838))
            ThreePointArc((12.4677792663, -0.8969281838), (11.7706927711, -4.2072308814), (10.2114993781, -7.2093883548))
        make_face()
        with BuildLine():
            Line((8.644997375, -5.0263326976), (10.2114993781, -7.2093883548))
            ThreePointArc((10.2114993781, -7.2093883548), (11.7706927711, -4.2072308814), (12.4677792663, -0.8969281838))
            Line((12.4677792663, -0.8969281838), (8.4062966321, 9.2511716519))
            ThreePointArc((8.4062966321, 9.2511716519), (6.4782537194, 10.6902866541), (4.3102189136, 11.7333717625))
            Line((4.3102189136, 11.7333717625), (2.5663650578, 9.6650799474))
            ThreePointArc((2.5663650578, 9.6650799474), (7.9266528427, 6.0965707337), (10, 0))
            ThreePointArc((10, 0), (9.6553087405, -2.6028855382), (8.644997375, -5.0263326976))
        make_face()
        with BuildLine():
            Line((6.9896180853, -2.7194188756), (8.644997375, -5.0263326976))
            ThreePointArc((8.644997375, -5.0263326976), (9.6553087405, -2.6028855382), (10, 0))
            ThreePointArc((10, 0), (7.9266528427, 6.0965707337), (2.5663650578, 9.6650799474))
            Line((2.5663650578, 9.6650799474), (0.7123203741, 7.4660966833))
            ThreePointArc((0.7123203741, 7.4660966833), (5.5494325298, 5.0451757747), (7.5, 0))
            ThreePointArc((7.5, 0), (7.3713002801, -1.3834493775), (6.9896180853, -2.7194188756))
        make_face()
        with BuildLine():
            Line((5.0382362679, 0), (6.9896180853, -2.7194188756))
            ThreePointArc((6.9896180853, -2.7194188756), (7.3713002801, -1.3834493775), (7.5, 0))
            ThreePointArc((7.5, 0), (5.5494325298, 5.0451757747), (0.7123203741, 7.4660966833))
            Line((0.7123203741, 7.4660966833), (-1.5841080516, 4.7424257169))
            ThreePointArc((-1.5841080516, 4.7424257169), (2.9222816207, 4.0571258458), (5, 0))
            ThreePointArc((5, 0), (4.9999342588, -0.0256399712), (4.9997370367, -0.0512792683))
            Line((4.9997370367, -0.0512792683), (5.0382362679, 0))
        make_face()
        with BuildLine():
            Line((1.4444038201, -4.7868254203), (4.9997370367, -0.0512792683))
            ThreePointArc((4.9997370367, -0.0512792683), (4.9999342588, -0.0256399712), (5, 0))
            ThreePointArc((5, 0), (2.9222816207, 4.0571258458), (-1.5841080516, 4.7424257169))
            Line((-1.5841080516, 4.7424257169), (-4.0267086588, 1.8453877419))
            Line((-4.0267086588, 1.8453877419), (-4.3330657581, 2.4949030315))
            ThreePointArc((-4.3330657581, 2.4949030315), (-3.9168845093, -3.1077348247), (1.4444038201, -4.7868254203))
        make_face()
        with BuildLine():
            ThreePointArc((-5.5405526463, 5.0549259514), (-6.9728435303, -2.7621464664), (-0.575954004, -7.4778524314))
            Line((-0.575954004, -7.4778524314), (1.4444038201, -4.7868254203))
            ThreePointArc((1.4444038201, -4.7868254203), (-3.9168845093, -3.1077348247), (-4.3330657581, 2.4949030315))
            Line((-4.3330657581, 2.4949030315), (-5.5405526463, 5.0549259514))
        make_face()
        with BuildLine():
            ThreePointArc((-6.670358772, 7.4502559589), (-9.7329978262, 2.2953765084), (-9.2963769315, -3.6847491023))
            Line((-9.2963769315, -3.6847491023), (-4.0858046945, -9.1272230168))
            ThreePointArc((-4.0858046945, -9.1272230168), (-3.1940488203, -9.476183416), (-2.2730034578, -9.7382470333))
            Line((-2.2730034578, -9.7382470333), (-0.575954004, -7.4778524314))
            ThreePointArc((-0.575954004, -7.4778524314), (-6.9728435303, -2.7621464664), (-5.5405526463, 5.0549259514))
            Line((-5.5405526463, 5.0549259514), (-6.670358772, 7.4502559589))
        make_face()
        with BuildLine():
            ThreePointArc((-7.7734498383, 9.7889467059), (-11.3301301239, 5.2799764559), (-12.4952800896, -0.3434755913))
            Line((-12.4952800896, -0.3434755913), (-9.2963769315, -3.6847491023))
            ThreePointArc((-9.2963769315, -3.6847491023), (-9.7329978262, 2.2953765084), (-6.670358772, 7.4502559589))
            Line((-6.670358772, 7.4502559589), (-7.7734498383, 9.7889467059))
        make_face()
        with BuildLine():
            ThreePointArc((-8.8639147293, 12.1008683851), (-12.8651308932, 7.7128728176), (-14.849995899, 2.1160391771))
            Line((-14.849995899, 2.1160391771), (-12.4952800896, -0.3434755913))
            ThreePointArc((-12.4952800896, -0.3434755913), (-11.3301301239, 5.2799764559), (-7.7734498383, 9.7889467059))
            Line((-7.7734498383, 9.7889467059), (-8.8639147293, 12.1008683851))
        make_face()
        with BuildLine():
            ThreePointArc((-9.9473635328, 14.3979150833), (-14.3660250029, 9.9933640791), (-16.9587523233, 4.3186478944))
            Line((-16.9587523233, 4.3186478944), (-14.849995899, 2.1160391771))
            ThreePointArc((-14.849995899, 2.1160391771), (-12.8651308932, 7.7128728176), (-8.8639147293, 12.1008683851))
            Line((-8.8639147293, 12.1008683851), (-9.9473635328, 14.3979150833))
        make_face()
        with BuildLine():
            ThreePointArc((-11.0264971881, 16.6858131285), (-15.8460260332, 12.2026004997), (-18.9491508236, 6.397631051))
            Line((-18.9491508236, 6.397631051), (-16.9587523233, 4.3186478944))
            ThreePointArc((-16.9587523233, 4.3186478944), (-14.3660250029, 9.9933640791), (-9.9473635328, 14.3979150833))
            Line((-9.9473635328, 14.3979150833), (-11.0264971881, 16.6858131285))
        make_face()
        with BuildLine():
            ThreePointArc((-12.1027830938, 18.9676735892), (-17.3121734711, 14.3714525956), (-20.8711196987, 8.4051390543))
            Line((-20.8711196987, 8.4051390543), (-18.9491508236, 6.397631051))
            ThreePointArc((-18.9491508236, 6.397631051), (-15.8460260332, 12.2026004997), (-11.0264971881, 16.6858131285))
            Line((-11.0264971881, 16.6858131285), (-12.1027830938, 18.9676735892))
        make_face()
        with BuildLine():
            ThreePointArc((-12.9623567896, 20.7900771153), (-18.4779593257, 16.0877288378), (-22.3763686864, 9.9773806388))
            Line((-22.3763686864, 9.9773806388), (-20.8711196987, 8.4051390543))
            ThreePointArc((-20.8711196987, 8.4051390543), (-17.3121734711, 14.3714525956), (-12.1027830938, 18.9676735892))
            Line((-12.1027830938, 18.9676735892), (-12.9623567896, 20.7900771153))
        make_face()
        with BuildLine():
            Line((-2.8126535472, -10.4570370167), (-2.2730034578, -9.7382470333))
            ThreePointArc((-2.2730034578, -9.7382470333), (-3.1940488203, -9.476183416), (-4.0858046945, -9.1272230168))
            Line((-4.0858046945, -9.1272230168), (-2.8126535472, -10.4570370167))
        make_face()
        with BuildLine():
            ThreePointArc((4.3102189136, 11.7333717625), (6.4782537194, 10.6902866541), (8.4062966321, 9.2511716519))
            Line((8.4062966321, 9.2511716519), (6.7470917355, 13.3968934127))
            ThreePointArc((6.7470917355, 13.3968934127), (6.3790622823, 13.5759922068), (6.0062833463, 13.744983098))
            Line((6.0062833463, 13.744983098), (4.3102189136, 11.7333717625))
        make_face()
        with BuildLine():
            ThreePointArc((6.0062833463, 13.744983098), (6.3790622823, 13.5759922068), (6.7470917355, 13.3968934127))
            Line((6.7470917355, 13.3968934127), (6.4141652547, 14.2287500203))
            Line((6.4141652547, 14.2287500203), (6.0062833463, 13.744983098))
        make_face()
    extrude(amount=F2_DEPTH)

    # F3
    f3_edges = [f1.edges().sort_by_distance(p)[0] for p in [
        (25, 25, 0.5),
        (25, -25, 0.5),
        (-25, -25, 0.5),
        (-25, 25, 0.5),
    ]]
    fillet(f3_edges, radius=F3_R)


solid = f1.part
